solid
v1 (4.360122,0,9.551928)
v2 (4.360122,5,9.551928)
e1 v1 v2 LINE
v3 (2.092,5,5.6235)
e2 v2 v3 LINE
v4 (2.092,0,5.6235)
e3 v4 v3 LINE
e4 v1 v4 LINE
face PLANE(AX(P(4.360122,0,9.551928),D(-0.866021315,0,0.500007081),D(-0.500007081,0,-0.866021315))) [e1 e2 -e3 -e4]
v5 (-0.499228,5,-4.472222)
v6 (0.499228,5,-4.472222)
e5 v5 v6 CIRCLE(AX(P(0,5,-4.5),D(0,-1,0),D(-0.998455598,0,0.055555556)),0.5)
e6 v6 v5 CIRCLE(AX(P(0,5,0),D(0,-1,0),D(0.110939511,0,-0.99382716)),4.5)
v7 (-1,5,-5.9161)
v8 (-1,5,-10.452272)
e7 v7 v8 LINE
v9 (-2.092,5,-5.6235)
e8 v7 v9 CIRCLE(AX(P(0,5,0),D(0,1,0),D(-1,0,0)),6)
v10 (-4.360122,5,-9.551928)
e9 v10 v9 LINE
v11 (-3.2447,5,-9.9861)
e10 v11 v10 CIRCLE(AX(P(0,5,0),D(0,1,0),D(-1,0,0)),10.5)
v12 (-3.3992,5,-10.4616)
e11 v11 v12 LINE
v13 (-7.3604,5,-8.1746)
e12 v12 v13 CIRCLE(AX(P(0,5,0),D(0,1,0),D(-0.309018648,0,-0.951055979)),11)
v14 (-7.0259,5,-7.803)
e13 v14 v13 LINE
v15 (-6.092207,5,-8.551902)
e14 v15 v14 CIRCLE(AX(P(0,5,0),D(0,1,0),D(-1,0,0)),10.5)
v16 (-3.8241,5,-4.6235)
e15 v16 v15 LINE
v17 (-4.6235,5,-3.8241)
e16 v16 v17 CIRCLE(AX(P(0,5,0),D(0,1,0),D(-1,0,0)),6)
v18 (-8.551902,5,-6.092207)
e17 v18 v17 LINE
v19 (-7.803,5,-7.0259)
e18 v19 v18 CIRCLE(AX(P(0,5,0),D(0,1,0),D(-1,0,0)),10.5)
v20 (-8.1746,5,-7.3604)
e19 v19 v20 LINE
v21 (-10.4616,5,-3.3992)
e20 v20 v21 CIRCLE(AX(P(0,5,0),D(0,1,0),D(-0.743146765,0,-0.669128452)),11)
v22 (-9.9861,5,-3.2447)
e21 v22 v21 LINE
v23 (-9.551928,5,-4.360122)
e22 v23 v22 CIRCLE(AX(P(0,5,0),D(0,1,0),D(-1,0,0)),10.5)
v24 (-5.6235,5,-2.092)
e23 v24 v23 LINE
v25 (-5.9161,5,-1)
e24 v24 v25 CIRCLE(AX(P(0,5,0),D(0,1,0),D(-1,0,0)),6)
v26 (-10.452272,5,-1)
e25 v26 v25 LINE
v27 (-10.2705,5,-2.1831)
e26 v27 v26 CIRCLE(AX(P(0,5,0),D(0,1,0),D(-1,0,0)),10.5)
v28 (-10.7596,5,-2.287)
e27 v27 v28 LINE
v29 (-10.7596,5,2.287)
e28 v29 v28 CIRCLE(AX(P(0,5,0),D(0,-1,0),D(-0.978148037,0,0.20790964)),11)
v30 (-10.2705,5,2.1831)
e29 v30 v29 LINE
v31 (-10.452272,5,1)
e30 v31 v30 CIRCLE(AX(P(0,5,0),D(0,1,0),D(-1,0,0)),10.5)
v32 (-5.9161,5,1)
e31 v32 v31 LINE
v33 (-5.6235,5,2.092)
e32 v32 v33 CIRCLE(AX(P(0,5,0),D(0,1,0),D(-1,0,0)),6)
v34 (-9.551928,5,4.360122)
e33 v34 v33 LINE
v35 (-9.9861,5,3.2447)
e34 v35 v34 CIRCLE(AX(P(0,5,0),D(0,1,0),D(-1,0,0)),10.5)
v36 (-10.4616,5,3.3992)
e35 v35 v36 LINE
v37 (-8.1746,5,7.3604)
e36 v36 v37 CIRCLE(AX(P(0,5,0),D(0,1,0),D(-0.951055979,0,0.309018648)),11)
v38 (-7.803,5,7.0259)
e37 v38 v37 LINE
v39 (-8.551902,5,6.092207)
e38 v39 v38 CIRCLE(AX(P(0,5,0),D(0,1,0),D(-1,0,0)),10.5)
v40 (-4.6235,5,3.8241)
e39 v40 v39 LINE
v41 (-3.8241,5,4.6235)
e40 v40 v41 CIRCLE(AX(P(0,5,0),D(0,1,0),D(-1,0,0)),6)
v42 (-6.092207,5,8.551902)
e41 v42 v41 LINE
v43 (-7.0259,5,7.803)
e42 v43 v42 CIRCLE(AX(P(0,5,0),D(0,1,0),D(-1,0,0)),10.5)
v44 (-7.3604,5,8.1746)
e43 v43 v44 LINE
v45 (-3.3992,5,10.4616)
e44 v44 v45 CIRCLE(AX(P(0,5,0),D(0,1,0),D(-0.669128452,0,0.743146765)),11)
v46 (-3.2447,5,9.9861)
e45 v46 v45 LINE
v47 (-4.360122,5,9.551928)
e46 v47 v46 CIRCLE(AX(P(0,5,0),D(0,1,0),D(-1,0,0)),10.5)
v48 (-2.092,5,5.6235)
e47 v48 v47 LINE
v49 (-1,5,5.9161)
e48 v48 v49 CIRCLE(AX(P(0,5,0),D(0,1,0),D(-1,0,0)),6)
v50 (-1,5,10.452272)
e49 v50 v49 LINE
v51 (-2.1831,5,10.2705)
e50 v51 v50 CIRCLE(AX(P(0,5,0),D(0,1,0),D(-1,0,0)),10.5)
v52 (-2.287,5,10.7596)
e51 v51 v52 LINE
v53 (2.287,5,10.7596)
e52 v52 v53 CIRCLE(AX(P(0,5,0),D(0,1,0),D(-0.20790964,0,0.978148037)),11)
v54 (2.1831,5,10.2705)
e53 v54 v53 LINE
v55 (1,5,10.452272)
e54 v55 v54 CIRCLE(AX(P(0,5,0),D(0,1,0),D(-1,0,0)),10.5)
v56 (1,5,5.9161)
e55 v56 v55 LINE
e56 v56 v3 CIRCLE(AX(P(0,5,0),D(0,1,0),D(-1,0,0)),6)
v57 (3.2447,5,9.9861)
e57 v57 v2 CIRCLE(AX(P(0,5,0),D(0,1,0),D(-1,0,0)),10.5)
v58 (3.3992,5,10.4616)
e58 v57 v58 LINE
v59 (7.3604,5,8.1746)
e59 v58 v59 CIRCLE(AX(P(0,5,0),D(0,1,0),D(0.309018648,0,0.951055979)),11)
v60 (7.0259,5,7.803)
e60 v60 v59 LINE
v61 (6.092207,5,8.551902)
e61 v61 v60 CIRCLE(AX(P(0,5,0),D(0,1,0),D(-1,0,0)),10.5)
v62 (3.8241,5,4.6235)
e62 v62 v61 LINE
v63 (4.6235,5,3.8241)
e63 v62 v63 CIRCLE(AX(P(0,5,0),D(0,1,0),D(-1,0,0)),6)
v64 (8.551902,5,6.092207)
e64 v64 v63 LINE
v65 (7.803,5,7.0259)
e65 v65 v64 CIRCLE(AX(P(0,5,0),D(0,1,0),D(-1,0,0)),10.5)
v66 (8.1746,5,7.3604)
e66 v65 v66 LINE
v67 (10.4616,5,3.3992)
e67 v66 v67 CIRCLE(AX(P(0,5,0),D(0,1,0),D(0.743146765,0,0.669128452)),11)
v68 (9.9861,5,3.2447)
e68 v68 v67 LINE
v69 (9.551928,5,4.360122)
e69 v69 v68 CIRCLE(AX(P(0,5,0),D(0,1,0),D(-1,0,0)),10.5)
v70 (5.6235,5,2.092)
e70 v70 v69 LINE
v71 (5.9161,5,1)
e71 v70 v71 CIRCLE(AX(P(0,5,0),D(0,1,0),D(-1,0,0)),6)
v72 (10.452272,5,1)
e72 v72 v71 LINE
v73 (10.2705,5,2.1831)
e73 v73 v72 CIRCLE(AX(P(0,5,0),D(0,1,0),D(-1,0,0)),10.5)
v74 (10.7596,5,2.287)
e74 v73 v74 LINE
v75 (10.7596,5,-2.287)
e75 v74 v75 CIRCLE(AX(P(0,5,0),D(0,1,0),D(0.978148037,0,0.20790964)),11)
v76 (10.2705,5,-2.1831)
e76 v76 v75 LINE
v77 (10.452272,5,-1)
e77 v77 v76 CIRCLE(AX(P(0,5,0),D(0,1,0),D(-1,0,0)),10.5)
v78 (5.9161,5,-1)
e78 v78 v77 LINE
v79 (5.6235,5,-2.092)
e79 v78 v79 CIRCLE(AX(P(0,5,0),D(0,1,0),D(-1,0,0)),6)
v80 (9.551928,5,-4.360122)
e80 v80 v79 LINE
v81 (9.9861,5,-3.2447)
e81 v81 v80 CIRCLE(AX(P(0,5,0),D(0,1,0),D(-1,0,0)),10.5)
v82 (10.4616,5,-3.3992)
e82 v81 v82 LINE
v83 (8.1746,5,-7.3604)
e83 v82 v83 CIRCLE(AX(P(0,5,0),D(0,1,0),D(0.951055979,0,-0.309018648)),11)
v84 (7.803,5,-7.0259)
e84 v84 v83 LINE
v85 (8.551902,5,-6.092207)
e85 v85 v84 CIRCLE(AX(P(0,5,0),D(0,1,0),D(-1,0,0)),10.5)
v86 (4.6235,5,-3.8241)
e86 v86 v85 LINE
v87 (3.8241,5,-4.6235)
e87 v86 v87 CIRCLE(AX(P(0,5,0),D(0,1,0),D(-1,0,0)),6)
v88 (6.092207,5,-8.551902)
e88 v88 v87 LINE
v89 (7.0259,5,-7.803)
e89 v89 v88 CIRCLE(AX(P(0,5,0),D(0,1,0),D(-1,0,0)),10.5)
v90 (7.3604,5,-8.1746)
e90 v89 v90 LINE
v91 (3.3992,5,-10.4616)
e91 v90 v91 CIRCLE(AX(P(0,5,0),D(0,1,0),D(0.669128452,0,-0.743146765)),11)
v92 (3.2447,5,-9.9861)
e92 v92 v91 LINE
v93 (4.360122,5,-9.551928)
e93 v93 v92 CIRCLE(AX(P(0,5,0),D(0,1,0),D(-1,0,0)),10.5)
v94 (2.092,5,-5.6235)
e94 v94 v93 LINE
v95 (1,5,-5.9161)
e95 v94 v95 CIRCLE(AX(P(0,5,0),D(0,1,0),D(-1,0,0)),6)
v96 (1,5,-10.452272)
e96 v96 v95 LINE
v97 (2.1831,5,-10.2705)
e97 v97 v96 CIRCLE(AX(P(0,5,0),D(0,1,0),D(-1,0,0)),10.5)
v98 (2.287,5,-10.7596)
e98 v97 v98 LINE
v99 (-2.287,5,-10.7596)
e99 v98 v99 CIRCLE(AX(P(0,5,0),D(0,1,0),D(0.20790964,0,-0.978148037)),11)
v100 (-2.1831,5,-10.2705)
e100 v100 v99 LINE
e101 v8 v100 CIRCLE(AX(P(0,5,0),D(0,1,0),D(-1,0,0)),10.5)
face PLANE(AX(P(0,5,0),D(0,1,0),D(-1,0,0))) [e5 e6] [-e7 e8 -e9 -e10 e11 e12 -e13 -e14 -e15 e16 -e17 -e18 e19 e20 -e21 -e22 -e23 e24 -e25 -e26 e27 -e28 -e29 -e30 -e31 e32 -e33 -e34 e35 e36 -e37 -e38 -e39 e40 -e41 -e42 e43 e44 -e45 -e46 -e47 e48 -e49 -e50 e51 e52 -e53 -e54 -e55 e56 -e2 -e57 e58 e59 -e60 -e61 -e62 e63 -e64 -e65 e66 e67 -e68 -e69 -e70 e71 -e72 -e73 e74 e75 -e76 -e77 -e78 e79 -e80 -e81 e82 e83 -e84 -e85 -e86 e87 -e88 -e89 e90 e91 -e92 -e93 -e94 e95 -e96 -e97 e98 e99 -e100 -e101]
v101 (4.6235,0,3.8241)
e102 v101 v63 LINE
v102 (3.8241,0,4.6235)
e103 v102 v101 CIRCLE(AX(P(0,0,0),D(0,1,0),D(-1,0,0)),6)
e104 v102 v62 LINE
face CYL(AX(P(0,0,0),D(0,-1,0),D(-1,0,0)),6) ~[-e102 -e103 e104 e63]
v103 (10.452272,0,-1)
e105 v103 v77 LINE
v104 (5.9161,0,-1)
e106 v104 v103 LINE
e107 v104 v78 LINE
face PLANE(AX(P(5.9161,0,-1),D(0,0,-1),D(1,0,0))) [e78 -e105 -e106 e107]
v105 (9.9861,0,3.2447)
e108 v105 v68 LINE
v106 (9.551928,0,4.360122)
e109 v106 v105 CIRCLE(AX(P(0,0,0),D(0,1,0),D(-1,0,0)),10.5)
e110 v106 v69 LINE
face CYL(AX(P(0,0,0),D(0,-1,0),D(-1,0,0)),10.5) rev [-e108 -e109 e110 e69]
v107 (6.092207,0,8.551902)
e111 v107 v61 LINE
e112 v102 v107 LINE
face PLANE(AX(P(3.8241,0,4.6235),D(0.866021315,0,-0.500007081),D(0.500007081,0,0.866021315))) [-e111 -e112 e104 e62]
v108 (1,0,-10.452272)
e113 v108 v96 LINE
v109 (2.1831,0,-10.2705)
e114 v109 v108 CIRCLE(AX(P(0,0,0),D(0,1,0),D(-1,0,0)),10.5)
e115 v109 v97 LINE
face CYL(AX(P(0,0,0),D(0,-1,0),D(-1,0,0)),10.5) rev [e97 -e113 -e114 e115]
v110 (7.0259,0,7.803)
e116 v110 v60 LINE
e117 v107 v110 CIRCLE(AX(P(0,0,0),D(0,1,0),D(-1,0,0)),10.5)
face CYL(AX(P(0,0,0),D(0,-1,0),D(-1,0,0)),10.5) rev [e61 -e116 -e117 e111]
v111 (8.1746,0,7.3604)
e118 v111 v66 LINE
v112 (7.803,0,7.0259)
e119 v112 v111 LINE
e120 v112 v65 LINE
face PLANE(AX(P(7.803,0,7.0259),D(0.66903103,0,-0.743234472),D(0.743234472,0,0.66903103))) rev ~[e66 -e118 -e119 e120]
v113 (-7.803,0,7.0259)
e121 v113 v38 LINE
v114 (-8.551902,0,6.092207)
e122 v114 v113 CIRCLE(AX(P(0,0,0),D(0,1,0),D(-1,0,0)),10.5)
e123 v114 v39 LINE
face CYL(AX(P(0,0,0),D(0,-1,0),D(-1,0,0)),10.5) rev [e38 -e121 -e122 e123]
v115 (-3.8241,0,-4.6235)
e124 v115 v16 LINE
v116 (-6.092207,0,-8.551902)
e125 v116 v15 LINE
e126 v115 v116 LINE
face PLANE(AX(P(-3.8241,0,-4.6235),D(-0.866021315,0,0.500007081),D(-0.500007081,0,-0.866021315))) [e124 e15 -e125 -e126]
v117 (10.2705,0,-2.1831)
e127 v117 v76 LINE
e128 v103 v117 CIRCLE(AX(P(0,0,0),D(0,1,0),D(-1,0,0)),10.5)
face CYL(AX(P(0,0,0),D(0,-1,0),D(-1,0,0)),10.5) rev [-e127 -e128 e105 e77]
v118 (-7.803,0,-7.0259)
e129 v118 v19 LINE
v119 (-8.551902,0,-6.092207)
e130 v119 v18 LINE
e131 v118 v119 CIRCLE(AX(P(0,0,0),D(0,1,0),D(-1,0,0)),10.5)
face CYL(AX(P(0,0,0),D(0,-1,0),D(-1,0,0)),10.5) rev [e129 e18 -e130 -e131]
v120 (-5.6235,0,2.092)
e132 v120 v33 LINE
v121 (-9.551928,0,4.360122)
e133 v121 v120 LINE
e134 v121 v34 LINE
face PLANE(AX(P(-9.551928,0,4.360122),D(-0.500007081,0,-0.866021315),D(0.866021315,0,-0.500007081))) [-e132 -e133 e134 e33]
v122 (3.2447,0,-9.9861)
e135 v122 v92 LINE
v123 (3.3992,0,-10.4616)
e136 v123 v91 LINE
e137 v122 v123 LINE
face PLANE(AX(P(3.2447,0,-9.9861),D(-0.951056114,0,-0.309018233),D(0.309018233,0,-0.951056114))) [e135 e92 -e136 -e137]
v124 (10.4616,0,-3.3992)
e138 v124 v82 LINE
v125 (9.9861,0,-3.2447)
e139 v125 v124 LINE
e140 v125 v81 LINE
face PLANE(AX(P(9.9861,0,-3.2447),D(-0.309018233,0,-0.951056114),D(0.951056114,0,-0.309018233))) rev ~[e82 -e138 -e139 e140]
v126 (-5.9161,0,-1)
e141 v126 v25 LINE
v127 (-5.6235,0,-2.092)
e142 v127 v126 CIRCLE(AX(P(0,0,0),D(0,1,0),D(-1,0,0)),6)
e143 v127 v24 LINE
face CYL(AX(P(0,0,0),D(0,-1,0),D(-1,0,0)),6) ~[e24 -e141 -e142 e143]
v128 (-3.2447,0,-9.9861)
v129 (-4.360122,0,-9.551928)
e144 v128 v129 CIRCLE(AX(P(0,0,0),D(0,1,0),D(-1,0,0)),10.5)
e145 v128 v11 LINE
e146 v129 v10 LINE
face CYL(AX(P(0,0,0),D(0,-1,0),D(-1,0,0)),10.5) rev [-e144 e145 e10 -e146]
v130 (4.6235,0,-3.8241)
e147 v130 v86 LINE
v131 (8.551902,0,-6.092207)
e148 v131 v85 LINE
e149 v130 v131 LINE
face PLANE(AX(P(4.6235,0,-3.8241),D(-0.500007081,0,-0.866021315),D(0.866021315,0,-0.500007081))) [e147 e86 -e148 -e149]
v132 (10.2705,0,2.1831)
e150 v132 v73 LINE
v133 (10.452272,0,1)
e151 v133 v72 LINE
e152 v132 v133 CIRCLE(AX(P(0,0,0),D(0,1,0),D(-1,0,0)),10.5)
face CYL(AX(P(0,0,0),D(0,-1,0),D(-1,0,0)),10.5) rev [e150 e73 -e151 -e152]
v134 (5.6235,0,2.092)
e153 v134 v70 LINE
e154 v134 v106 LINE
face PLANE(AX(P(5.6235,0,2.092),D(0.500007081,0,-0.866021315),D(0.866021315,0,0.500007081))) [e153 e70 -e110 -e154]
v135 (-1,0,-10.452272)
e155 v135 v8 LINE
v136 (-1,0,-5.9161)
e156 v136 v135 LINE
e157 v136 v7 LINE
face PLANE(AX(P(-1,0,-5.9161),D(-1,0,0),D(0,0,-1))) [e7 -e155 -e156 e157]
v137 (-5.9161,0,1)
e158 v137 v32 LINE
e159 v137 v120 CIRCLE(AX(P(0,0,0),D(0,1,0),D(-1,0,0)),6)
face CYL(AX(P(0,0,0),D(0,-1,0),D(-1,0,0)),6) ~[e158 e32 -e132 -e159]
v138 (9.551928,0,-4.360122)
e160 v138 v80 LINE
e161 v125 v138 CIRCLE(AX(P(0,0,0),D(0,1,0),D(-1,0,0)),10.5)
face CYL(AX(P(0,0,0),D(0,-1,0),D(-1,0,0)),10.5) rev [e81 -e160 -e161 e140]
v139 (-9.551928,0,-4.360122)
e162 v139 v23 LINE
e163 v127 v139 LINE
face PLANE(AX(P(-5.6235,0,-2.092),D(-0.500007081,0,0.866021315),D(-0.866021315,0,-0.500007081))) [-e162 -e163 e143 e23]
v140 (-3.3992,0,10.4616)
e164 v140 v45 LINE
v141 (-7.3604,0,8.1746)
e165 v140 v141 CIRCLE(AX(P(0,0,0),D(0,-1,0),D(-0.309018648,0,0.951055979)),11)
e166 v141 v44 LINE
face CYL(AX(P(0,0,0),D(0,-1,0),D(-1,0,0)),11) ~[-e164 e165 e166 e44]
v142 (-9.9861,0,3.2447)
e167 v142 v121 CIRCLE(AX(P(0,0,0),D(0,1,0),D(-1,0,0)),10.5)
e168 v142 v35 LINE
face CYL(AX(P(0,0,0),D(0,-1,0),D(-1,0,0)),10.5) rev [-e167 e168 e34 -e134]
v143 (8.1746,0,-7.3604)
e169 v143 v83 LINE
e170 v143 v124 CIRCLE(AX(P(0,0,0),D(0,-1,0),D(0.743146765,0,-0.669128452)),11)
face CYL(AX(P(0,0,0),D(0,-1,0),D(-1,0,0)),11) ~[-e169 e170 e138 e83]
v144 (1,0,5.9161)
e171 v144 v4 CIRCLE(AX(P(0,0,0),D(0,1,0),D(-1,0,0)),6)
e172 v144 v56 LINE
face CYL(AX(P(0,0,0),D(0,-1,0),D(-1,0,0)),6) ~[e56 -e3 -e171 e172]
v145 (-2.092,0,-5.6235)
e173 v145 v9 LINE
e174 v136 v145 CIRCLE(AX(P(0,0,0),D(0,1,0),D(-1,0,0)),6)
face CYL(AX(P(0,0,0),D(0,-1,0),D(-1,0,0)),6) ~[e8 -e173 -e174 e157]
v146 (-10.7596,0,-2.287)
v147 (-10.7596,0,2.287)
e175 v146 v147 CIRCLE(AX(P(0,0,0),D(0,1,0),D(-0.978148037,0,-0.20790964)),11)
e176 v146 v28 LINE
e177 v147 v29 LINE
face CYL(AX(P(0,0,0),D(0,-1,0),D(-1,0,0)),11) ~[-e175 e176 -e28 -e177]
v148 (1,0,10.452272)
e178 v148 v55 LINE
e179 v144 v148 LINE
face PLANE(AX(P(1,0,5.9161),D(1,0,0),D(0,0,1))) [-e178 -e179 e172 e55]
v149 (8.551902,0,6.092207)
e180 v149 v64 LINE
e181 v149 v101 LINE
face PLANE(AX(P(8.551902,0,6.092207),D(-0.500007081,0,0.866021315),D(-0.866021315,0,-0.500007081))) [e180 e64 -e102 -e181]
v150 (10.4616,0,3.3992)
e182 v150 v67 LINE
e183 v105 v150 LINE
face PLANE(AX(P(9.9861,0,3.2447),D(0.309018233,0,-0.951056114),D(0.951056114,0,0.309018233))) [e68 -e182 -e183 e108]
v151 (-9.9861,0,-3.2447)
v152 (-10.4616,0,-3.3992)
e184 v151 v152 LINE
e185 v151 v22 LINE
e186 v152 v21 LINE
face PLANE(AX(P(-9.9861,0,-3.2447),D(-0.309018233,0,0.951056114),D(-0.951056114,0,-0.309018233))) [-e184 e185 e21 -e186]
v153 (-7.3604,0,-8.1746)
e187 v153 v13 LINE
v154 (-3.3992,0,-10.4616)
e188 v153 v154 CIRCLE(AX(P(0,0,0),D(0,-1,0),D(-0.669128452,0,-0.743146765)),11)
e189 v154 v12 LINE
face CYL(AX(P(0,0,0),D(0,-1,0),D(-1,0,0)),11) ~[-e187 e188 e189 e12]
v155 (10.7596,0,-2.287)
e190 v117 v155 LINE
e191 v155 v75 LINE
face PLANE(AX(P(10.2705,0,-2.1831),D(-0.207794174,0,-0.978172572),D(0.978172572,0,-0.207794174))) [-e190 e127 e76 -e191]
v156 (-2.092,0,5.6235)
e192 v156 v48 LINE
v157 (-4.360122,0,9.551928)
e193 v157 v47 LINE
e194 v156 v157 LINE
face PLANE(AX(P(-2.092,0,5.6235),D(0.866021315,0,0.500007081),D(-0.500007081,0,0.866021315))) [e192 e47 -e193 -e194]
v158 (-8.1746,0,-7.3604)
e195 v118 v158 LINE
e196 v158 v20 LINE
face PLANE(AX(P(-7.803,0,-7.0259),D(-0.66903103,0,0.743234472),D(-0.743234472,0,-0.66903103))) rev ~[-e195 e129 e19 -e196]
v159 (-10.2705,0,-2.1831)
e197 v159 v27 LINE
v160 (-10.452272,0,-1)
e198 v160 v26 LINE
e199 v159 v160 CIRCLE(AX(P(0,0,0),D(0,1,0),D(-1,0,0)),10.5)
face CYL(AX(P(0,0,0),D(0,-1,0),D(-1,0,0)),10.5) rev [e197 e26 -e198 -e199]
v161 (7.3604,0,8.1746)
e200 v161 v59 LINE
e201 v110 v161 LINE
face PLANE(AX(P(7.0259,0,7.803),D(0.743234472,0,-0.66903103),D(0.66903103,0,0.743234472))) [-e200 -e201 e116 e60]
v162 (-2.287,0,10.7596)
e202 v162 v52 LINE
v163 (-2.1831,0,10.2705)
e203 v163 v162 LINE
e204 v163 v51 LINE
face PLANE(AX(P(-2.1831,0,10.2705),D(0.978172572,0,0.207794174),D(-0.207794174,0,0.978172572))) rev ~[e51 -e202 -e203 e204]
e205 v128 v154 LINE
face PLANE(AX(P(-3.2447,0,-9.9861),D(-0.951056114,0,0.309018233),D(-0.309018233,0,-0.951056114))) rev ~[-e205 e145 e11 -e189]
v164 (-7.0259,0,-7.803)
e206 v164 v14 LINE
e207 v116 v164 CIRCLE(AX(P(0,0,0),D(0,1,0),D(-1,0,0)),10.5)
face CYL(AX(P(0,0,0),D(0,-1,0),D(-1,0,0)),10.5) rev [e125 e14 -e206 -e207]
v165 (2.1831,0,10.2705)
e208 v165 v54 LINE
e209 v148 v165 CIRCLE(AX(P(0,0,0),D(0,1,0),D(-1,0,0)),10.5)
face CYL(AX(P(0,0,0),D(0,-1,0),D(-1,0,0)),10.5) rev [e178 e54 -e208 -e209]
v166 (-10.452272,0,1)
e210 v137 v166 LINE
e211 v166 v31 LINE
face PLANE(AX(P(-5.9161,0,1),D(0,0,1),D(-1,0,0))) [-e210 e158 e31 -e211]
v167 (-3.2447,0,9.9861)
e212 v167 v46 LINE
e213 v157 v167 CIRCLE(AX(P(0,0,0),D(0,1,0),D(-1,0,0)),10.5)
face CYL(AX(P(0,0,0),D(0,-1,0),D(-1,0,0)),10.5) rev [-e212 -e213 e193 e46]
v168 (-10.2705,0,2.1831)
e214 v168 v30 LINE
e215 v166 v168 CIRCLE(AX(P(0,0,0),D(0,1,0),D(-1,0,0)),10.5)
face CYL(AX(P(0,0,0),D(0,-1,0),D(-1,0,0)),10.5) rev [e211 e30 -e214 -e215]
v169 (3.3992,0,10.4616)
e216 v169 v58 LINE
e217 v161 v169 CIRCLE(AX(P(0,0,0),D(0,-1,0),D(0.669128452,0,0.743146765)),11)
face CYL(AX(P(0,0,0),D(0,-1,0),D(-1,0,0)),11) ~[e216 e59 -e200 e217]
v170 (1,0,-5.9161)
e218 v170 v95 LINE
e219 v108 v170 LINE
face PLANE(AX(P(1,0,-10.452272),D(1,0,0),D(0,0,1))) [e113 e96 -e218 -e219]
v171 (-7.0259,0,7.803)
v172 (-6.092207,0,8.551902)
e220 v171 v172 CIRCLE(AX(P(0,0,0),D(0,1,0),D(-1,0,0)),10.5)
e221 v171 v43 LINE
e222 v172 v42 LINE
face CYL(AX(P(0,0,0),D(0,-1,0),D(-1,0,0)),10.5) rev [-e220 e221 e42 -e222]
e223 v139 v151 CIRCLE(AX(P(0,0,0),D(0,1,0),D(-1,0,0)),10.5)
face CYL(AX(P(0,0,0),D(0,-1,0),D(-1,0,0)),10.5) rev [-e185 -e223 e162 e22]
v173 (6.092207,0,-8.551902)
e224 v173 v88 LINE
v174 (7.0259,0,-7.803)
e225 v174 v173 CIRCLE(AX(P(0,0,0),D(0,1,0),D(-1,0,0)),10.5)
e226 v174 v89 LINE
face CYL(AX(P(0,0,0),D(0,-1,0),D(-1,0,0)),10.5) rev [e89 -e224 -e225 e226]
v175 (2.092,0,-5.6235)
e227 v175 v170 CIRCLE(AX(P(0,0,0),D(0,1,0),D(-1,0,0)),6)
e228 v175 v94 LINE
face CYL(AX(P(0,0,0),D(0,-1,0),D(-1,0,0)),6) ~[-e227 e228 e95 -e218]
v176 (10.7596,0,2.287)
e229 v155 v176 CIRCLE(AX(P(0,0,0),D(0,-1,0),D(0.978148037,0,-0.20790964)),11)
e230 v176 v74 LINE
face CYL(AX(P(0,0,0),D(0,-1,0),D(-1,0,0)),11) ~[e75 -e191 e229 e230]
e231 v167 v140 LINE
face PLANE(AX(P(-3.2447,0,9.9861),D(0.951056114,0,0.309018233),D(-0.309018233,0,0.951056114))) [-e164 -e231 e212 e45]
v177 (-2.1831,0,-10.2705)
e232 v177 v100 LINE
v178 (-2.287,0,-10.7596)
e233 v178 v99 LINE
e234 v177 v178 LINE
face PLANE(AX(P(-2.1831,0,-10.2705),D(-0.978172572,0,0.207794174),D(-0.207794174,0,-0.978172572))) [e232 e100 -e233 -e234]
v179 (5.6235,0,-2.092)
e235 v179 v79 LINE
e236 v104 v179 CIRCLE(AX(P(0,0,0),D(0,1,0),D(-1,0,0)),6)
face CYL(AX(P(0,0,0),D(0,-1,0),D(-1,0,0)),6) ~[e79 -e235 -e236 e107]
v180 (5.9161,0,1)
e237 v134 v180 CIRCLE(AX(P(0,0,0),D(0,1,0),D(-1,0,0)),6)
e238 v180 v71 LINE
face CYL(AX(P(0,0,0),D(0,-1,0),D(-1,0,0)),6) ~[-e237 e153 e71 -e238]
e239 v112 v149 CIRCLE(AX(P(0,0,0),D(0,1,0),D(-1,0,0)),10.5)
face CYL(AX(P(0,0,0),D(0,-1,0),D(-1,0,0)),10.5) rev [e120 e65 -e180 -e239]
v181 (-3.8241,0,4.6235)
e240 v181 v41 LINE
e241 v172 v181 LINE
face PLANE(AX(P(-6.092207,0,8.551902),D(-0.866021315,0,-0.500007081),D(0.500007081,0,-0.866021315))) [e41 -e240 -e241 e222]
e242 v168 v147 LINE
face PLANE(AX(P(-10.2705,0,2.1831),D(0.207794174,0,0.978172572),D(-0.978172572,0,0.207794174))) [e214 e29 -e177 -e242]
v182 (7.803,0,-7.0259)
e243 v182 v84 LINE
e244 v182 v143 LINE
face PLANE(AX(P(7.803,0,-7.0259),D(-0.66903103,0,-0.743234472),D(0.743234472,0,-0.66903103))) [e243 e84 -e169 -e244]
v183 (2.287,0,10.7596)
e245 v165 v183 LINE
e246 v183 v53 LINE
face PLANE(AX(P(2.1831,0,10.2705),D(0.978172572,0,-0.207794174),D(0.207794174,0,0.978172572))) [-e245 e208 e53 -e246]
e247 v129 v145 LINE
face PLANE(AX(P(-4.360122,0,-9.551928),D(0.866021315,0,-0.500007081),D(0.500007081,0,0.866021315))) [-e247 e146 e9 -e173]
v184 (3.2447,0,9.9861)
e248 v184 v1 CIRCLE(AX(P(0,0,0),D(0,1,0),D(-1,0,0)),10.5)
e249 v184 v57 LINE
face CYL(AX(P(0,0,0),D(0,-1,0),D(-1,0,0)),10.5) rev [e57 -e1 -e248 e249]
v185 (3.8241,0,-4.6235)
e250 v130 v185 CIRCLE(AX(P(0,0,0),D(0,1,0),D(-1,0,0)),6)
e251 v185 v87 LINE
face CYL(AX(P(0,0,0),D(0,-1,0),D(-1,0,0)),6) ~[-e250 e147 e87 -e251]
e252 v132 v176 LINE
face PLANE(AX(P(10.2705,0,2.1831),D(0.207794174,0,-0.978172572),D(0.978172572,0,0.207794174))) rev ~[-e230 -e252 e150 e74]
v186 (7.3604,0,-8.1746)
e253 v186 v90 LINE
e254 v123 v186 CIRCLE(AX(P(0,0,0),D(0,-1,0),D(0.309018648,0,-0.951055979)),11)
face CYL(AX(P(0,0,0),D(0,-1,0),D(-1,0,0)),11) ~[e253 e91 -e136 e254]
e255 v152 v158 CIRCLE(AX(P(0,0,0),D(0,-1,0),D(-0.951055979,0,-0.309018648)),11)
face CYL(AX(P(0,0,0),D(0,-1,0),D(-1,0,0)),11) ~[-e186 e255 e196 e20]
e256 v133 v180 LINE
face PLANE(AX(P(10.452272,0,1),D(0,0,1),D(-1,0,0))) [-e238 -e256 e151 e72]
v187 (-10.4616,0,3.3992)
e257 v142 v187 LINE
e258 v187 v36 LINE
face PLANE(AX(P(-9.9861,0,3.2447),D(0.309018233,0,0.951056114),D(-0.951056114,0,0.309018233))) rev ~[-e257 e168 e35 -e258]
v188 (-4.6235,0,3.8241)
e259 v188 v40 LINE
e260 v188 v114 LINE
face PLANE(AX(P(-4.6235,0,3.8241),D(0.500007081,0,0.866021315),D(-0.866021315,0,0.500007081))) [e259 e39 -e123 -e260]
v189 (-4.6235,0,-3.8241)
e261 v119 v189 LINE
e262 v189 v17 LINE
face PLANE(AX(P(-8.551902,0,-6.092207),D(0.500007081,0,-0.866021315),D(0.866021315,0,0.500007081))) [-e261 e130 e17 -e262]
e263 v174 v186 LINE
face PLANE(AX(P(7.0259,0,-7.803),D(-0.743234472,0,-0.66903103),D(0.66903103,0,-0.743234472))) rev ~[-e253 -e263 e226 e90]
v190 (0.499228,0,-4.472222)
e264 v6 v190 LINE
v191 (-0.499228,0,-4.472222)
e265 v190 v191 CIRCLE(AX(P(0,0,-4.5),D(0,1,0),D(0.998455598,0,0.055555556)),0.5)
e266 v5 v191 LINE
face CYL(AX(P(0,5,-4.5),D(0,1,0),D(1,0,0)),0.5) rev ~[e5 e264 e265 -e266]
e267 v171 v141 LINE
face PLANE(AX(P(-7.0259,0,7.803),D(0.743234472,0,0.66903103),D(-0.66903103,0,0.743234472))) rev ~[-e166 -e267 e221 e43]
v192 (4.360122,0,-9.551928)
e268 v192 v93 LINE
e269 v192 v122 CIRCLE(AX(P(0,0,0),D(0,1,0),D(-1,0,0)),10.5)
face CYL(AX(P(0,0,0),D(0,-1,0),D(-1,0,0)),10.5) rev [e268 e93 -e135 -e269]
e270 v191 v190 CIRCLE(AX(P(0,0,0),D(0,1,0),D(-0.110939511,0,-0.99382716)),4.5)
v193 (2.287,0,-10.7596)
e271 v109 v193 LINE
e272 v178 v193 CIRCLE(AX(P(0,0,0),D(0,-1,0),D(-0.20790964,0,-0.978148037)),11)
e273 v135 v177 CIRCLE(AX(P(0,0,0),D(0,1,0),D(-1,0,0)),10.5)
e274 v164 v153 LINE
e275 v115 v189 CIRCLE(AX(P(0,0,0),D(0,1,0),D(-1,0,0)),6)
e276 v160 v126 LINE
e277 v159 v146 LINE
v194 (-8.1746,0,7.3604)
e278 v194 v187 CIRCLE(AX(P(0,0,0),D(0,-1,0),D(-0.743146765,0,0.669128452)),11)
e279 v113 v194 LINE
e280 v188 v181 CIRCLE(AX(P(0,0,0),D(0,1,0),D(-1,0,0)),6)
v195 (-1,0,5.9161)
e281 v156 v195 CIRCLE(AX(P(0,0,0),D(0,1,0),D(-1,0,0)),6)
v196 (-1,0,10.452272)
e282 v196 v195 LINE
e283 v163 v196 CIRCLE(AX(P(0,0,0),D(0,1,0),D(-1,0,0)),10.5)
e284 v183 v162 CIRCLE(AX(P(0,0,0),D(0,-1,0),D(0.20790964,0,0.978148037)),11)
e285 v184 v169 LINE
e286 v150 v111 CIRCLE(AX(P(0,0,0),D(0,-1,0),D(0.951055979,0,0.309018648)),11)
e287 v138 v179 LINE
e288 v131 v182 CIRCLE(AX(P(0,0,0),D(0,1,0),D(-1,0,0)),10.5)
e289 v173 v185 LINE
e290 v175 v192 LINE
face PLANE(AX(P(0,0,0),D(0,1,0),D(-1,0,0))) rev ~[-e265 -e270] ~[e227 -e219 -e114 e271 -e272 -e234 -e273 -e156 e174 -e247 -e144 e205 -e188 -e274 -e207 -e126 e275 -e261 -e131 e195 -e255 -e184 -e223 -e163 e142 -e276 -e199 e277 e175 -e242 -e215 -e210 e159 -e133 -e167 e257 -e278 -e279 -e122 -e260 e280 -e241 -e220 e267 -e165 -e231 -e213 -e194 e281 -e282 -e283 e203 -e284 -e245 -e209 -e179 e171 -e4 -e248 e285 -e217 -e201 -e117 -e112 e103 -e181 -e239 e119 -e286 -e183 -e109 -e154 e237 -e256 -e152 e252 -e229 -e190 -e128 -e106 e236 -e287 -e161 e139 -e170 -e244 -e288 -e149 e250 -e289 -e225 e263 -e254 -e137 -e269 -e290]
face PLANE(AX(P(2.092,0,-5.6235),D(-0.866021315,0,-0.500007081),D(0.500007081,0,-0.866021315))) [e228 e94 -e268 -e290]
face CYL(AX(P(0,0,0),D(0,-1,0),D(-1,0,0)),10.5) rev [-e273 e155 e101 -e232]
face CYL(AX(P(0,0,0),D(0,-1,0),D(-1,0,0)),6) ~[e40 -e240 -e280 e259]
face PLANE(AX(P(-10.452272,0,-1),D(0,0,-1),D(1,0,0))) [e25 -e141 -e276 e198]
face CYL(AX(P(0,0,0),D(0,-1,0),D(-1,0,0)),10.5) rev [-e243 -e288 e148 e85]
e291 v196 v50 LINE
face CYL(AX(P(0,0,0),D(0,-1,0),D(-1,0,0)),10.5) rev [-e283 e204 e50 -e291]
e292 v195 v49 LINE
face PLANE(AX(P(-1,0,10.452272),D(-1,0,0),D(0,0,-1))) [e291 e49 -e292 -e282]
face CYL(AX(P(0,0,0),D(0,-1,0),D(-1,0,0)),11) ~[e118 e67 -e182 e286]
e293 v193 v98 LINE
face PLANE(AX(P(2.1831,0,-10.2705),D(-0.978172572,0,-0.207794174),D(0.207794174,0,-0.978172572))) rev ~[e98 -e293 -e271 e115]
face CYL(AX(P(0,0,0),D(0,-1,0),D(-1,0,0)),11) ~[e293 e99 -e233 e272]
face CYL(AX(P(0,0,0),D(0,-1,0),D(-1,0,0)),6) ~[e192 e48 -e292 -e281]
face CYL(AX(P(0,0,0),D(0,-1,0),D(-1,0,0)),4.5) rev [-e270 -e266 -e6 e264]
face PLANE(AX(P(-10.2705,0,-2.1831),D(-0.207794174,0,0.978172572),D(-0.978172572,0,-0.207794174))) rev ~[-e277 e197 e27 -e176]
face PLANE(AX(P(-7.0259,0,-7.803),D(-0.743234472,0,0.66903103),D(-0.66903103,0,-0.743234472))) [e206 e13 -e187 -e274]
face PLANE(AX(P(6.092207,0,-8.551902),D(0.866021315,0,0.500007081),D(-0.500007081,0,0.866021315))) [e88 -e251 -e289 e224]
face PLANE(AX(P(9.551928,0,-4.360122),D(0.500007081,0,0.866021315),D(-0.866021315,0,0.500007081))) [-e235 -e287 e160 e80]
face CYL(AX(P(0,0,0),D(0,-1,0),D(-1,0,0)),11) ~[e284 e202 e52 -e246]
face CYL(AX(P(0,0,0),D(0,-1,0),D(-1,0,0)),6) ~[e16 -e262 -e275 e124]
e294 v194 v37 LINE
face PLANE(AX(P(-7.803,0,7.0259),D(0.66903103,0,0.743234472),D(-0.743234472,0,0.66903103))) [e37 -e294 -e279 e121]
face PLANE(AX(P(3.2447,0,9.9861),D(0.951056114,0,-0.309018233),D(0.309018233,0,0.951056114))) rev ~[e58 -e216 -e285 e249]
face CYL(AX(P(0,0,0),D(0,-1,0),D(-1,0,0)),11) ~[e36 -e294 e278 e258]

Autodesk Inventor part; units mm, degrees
ref_plane "YZ Plane" through (0, 0, 0) normal (1, 0, 0) x (0, 1, 0)
ref_plane "XZ Plane" through (0, 0, 0) normal (0, 1, 0) x (-1, 0, 0)
ref_plane "XY Plane" through (0, 0, 0) normal (0, 0, 1) x (1, 0, 0)
sketch "Sketch1" plane through (0, 0, 0) normal (0, 1, 0) x (-1, 0, 0)
  circle A0 centre (0, 0) radius 4.5
  circle A1 centre (0, 0) radius 11
  circle A2 centre (0, 0) radius 6
  circle A3 centre (0, 0) radius 10.5
  line L0 (0, 0) -> (11, 0) construction
  line L1 (5.9161, 1) -> (10.9545, 1)
  line L2 (10.9545, 1) -> (10.9545, -1) construction
  line L3 (10.9545, -1) -> (5.9161, -1)
  line L4 (5.9161, -1) -> (5.9161, 1) construction
  line L5 (5.9161, 1) -> (10.9545, -1) construction
  line L6 (10.9545, 1) -> (5.9161, -1) construction
  line L7 (9.9868, 4.6112) -> (5.6235, 2.092)
  line L8 (4.6235, 3.8241) -> (8.9868, 6.3433)
  line L9 (6.3433, 8.9868) -> (3.8241, 4.6235)
  line L10 (2.092, 5.6235) -> (4.6112, 9.9868)
  line L11 (1, 10.9545) -> (1, 5.9161)
  line L12 (-1, 5.9161) -> (-1, 10.9545)
  line L13 (-4.6112, 9.9868) -> (-2.092, 5.6235)
  line L14 (-3.8241, 4.6235) -> (-6.3433, 8.9868)
  line L15 (-8.9868, 6.3433) -> (-4.6235, 3.8241)
  line L16 (-5.6235, 2.092) -> (-9.9868, 4.6112)
  line L17 (-10.9545, 1) -> (-5.9161, 1)
  line L18 (-5.9161, -1) -> (-10.9545, -1)
  line L19 (-9.9868, -4.6112) -> (-5.6235, -2.092)
  line L20 (-4.6235, -3.8241) -> (-8.9868, -6.3433)
  line L21 (-6.3433, -8.9868) -> (-3.8241, -4.6235)
  line L22 (-2.092, -5.6235) -> (-4.6112, -9.9868)
  line L23 (-1, -10.9545) -> (-1, -5.9161)
  line L24 (1, -5.9161) -> (1, -10.9545)
  line L25 (4.6112, -9.9868) -> (2.092, -5.6235)
  line L26 (3.8241, -4.6235) -> (6.3433, -8.9868)
  line L27 (8.9868, -6.3433) -> (4.6235, -3.8241)
  line L28 (5.6235, -2.092) -> (9.9868, -4.6112)
  line L29 (10.2705, -2.1831) -> (10.7596, -2.287)
  line L30 (10.2705, 2.1831) -> (10.7596, 2.287)
  line L31 (9.9861, 3.2447) -> (10.4616, 3.3992)
  line L32 (7.803, 7.0259) -> (8.1746, 7.3604)
  line L33 (7.0259, 7.803) -> (7.3604, 8.1746)
  line L34 (3.2447, 9.9861) -> (3.3992, 10.4616)
  line L35 (2.1831, 10.2705) -> (2.287, 10.7596)
  line L36 (-2.1831, 10.2705) -> (-2.287, 10.7596)
  line L37 (-3.2447, 9.9861) -> (-3.3992, 10.4616)
  line L38 (-7.0259, 7.803) -> (-7.3604, 8.1746)
  line L39 (-7.803, 7.0259) -> (-8.1746, 7.3604)
  line L40 (-9.9861, 3.2447) -> (-10.4616, 3.3992)
  line L41 (-10.2705, 2.1831) -> (-10.7596, 2.287)
  line L42 (-10.2705, -2.1831) -> (-10.7596, -2.287)
  line L43 (-9.9861, -3.2447) -> (-10.4616, -3.3992)
  line L44 (-7.803, -7.0259) -> (-8.1746, -7.3604)
  line L45 (-7.0259, -7.803) -> (-7.3604, -8.1746)
  line L46 (-3.2447, -9.9861) -> (-3.3992, -10.4616)
  line L47 (-2.1831, -10.2705) -> (-2.287, -10.7596)
  line L48 (2.1831, -10.2705) -> (2.287, -10.7596)
  line L49 (3.2447, -9.9861) -> (3.3992, -10.4616)
  line L50 (7.0259, -7.803) -> (7.3604, -8.1746)
  line L51 (7.803, -7.0259) -> (8.1746, -7.3604)
  line L52 (9.9861, -3.2447) -> (10.4616, -3.3992)
  point P0 (8.4353, 0)
  point P1 (8.4353, 1)
  point P2 (6.8052, 5.0837)
  point P3 (3.3516, 7.8052)
  point P4 (-1, 8.4353)
  point P5 (-5.0837, 6.8052)
  point P6 (-7.8052, 3.3516)
  point P7 (-8.4353, -1)
  point P8 (-6.8052, -5.0837)
  point P9 (-3.3516, -7.8052)
  point P10 (1, -8.4353)
  point P11 (5.0837, -6.8052)
  point P12 (7.8052, -3.3516)
  point P13 (9.9861, -3.2447)
  point P14 (9.5519, -4.3601)
  point P15 (10.4523, -1)
  point P16 (10.2705, 2.1831)
  point P17 (10.4523, 1)
  point P18 (9.5519, 4.3601)
  point P19 (9.9861, 3.2447)
  point P20 (7.803, 7.0259)
  point P21 (8.5519, 6.0922)
  point P22 (6.0922, 8.5519)
  point P23 (7.0259, 7.803)
  point P24 (3.2447, 9.9861)
  point P25 (4.3601, 9.5519)
  point P26 (1, 10.4523)
  point P27 (2.1831, 10.2705)
  point P28 (-1, 10.4523)
  point P29 (-4.3601, 9.5519)
  point P30 (-6.0922, 8.5519)
  point P31 (-8.5519, 6.0922)
  point P32 (-7.803, 7.0259)
  point P33 (-9.9861, 3.2447)
  point P34 (-9.5519, 4.3601)
  point P35 (-10.4523, 1)
  point P36 (-10.2705, 2.1831)
  point P37 (-10.2705, -2.1831)
  point P38 (-10.4523, -1)
  point P39 (-9.5519, -4.3601)
  point P40 (-9.9861, -3.2447)
  point P41 (-7.803, -7.0259)
  point P42 (-8.5519, -6.0922)
  point P43 (-6.0922, -8.5519)
  point P44 (-7.0259, -7.803)
  point P45 (-3.2447, -9.9861)
  point P46 (-4.3601, -9.5519)
  point P47 (-1, -10.4523)
  point P48 (-2.1831, -10.2705)
  point P49 (2.1831, -10.2705)
  point P50 (1, -10.4523)
  point P51 (4.3601, -9.5519)
  point P52 (3.2447, -9.9861)
  point P53 (6.0922, -8.5519)
  point P54 (8.5519, -6.0922)
  point P55 (7.803, -7.0259)
  dimension "d1" = 22
  dimension "d2" = 12
  dimension "d3" = 0.5
  dimension "d0" = 9
  dimension "d4" = 2
  dimension "d7" = 360
  dimension "d9" = 12
  dimension "d12" = 360
extrude "Extrusion1" add sketch "Sketch1" along normal blind 5 contours A1 L3 A3 L1 | L1 A3 L30 A1 | A1 L29 A3 L3 | A3 L3 A2 L1 | L31 A3 L7 A1 | A2 | A1 L28 A3 L52 | L7 A3 L8 A1 | A2 L8 A3 L7 | A1 L27 A3 L28 | L28 A3 L27 A2 | L8 A3 L32 A1 | A1 L51 A3 L27 | A2 L10 A3 L9 | L26 A3 L25 A2 | L33 A3 L9 A1 | A3 L10 A1 L9 | A1 L26 A3 L50 | L26 A1 L25 A3 | A2 L12 A3 L11 | A3 L34 A1 L10 | L24 A3 L23 A2 | L25 A1 L49 A3 | L11 A1 L35 A3 | A3 L12 A1 L11 | L24 A1 L23 A3 | A3 L48 A1 L24 | A2 L14 A3 L13 | A3 L36 A1 L12 | L22 A3 L21 A2 | L23 A1 L47 A3 | L13 A1 L37 A3 | A3 L14 A1 L13 | L22 A1 L21 A3 | A3 L46 A1 L22 | A2 L16 A3 L15 | A3 L38 A1 L14 | L20 A3 L19 A2 | L21 A1 L45 A3 | L15 A1 L39 A3 | A3 L16 A1 L15 | L20 A1 L19 A3 | A3 L44 A1 L20 | A2 L18 A3 L17 | A3 L40 A1 L16 | L19 A1 L43 A3 | L17 A1 L41 A3 | A3 L18 A1 L17 | A3 L42 A1 L18
sketch "Sketch2" plane through (0, 5, 0) normal (0, 1, 0) x (1, 0, 0)
  circle A0 centre (0, 0) radius 4.5 projected
  circle A1 centre (0, 4.5) radius 0.5
  line L0 (0, 0) -> (0, 4.5) construction
  dimension "d16" = 1
extrude "Extrusion2" cut sketch "Sketch2" against normal through all contours A1 A0 | A0 A1 picked at (0.0194, 4.3324) picked at (0.0158, 4.6639)
properties part number "STATOR" material "Stainless Steel"
